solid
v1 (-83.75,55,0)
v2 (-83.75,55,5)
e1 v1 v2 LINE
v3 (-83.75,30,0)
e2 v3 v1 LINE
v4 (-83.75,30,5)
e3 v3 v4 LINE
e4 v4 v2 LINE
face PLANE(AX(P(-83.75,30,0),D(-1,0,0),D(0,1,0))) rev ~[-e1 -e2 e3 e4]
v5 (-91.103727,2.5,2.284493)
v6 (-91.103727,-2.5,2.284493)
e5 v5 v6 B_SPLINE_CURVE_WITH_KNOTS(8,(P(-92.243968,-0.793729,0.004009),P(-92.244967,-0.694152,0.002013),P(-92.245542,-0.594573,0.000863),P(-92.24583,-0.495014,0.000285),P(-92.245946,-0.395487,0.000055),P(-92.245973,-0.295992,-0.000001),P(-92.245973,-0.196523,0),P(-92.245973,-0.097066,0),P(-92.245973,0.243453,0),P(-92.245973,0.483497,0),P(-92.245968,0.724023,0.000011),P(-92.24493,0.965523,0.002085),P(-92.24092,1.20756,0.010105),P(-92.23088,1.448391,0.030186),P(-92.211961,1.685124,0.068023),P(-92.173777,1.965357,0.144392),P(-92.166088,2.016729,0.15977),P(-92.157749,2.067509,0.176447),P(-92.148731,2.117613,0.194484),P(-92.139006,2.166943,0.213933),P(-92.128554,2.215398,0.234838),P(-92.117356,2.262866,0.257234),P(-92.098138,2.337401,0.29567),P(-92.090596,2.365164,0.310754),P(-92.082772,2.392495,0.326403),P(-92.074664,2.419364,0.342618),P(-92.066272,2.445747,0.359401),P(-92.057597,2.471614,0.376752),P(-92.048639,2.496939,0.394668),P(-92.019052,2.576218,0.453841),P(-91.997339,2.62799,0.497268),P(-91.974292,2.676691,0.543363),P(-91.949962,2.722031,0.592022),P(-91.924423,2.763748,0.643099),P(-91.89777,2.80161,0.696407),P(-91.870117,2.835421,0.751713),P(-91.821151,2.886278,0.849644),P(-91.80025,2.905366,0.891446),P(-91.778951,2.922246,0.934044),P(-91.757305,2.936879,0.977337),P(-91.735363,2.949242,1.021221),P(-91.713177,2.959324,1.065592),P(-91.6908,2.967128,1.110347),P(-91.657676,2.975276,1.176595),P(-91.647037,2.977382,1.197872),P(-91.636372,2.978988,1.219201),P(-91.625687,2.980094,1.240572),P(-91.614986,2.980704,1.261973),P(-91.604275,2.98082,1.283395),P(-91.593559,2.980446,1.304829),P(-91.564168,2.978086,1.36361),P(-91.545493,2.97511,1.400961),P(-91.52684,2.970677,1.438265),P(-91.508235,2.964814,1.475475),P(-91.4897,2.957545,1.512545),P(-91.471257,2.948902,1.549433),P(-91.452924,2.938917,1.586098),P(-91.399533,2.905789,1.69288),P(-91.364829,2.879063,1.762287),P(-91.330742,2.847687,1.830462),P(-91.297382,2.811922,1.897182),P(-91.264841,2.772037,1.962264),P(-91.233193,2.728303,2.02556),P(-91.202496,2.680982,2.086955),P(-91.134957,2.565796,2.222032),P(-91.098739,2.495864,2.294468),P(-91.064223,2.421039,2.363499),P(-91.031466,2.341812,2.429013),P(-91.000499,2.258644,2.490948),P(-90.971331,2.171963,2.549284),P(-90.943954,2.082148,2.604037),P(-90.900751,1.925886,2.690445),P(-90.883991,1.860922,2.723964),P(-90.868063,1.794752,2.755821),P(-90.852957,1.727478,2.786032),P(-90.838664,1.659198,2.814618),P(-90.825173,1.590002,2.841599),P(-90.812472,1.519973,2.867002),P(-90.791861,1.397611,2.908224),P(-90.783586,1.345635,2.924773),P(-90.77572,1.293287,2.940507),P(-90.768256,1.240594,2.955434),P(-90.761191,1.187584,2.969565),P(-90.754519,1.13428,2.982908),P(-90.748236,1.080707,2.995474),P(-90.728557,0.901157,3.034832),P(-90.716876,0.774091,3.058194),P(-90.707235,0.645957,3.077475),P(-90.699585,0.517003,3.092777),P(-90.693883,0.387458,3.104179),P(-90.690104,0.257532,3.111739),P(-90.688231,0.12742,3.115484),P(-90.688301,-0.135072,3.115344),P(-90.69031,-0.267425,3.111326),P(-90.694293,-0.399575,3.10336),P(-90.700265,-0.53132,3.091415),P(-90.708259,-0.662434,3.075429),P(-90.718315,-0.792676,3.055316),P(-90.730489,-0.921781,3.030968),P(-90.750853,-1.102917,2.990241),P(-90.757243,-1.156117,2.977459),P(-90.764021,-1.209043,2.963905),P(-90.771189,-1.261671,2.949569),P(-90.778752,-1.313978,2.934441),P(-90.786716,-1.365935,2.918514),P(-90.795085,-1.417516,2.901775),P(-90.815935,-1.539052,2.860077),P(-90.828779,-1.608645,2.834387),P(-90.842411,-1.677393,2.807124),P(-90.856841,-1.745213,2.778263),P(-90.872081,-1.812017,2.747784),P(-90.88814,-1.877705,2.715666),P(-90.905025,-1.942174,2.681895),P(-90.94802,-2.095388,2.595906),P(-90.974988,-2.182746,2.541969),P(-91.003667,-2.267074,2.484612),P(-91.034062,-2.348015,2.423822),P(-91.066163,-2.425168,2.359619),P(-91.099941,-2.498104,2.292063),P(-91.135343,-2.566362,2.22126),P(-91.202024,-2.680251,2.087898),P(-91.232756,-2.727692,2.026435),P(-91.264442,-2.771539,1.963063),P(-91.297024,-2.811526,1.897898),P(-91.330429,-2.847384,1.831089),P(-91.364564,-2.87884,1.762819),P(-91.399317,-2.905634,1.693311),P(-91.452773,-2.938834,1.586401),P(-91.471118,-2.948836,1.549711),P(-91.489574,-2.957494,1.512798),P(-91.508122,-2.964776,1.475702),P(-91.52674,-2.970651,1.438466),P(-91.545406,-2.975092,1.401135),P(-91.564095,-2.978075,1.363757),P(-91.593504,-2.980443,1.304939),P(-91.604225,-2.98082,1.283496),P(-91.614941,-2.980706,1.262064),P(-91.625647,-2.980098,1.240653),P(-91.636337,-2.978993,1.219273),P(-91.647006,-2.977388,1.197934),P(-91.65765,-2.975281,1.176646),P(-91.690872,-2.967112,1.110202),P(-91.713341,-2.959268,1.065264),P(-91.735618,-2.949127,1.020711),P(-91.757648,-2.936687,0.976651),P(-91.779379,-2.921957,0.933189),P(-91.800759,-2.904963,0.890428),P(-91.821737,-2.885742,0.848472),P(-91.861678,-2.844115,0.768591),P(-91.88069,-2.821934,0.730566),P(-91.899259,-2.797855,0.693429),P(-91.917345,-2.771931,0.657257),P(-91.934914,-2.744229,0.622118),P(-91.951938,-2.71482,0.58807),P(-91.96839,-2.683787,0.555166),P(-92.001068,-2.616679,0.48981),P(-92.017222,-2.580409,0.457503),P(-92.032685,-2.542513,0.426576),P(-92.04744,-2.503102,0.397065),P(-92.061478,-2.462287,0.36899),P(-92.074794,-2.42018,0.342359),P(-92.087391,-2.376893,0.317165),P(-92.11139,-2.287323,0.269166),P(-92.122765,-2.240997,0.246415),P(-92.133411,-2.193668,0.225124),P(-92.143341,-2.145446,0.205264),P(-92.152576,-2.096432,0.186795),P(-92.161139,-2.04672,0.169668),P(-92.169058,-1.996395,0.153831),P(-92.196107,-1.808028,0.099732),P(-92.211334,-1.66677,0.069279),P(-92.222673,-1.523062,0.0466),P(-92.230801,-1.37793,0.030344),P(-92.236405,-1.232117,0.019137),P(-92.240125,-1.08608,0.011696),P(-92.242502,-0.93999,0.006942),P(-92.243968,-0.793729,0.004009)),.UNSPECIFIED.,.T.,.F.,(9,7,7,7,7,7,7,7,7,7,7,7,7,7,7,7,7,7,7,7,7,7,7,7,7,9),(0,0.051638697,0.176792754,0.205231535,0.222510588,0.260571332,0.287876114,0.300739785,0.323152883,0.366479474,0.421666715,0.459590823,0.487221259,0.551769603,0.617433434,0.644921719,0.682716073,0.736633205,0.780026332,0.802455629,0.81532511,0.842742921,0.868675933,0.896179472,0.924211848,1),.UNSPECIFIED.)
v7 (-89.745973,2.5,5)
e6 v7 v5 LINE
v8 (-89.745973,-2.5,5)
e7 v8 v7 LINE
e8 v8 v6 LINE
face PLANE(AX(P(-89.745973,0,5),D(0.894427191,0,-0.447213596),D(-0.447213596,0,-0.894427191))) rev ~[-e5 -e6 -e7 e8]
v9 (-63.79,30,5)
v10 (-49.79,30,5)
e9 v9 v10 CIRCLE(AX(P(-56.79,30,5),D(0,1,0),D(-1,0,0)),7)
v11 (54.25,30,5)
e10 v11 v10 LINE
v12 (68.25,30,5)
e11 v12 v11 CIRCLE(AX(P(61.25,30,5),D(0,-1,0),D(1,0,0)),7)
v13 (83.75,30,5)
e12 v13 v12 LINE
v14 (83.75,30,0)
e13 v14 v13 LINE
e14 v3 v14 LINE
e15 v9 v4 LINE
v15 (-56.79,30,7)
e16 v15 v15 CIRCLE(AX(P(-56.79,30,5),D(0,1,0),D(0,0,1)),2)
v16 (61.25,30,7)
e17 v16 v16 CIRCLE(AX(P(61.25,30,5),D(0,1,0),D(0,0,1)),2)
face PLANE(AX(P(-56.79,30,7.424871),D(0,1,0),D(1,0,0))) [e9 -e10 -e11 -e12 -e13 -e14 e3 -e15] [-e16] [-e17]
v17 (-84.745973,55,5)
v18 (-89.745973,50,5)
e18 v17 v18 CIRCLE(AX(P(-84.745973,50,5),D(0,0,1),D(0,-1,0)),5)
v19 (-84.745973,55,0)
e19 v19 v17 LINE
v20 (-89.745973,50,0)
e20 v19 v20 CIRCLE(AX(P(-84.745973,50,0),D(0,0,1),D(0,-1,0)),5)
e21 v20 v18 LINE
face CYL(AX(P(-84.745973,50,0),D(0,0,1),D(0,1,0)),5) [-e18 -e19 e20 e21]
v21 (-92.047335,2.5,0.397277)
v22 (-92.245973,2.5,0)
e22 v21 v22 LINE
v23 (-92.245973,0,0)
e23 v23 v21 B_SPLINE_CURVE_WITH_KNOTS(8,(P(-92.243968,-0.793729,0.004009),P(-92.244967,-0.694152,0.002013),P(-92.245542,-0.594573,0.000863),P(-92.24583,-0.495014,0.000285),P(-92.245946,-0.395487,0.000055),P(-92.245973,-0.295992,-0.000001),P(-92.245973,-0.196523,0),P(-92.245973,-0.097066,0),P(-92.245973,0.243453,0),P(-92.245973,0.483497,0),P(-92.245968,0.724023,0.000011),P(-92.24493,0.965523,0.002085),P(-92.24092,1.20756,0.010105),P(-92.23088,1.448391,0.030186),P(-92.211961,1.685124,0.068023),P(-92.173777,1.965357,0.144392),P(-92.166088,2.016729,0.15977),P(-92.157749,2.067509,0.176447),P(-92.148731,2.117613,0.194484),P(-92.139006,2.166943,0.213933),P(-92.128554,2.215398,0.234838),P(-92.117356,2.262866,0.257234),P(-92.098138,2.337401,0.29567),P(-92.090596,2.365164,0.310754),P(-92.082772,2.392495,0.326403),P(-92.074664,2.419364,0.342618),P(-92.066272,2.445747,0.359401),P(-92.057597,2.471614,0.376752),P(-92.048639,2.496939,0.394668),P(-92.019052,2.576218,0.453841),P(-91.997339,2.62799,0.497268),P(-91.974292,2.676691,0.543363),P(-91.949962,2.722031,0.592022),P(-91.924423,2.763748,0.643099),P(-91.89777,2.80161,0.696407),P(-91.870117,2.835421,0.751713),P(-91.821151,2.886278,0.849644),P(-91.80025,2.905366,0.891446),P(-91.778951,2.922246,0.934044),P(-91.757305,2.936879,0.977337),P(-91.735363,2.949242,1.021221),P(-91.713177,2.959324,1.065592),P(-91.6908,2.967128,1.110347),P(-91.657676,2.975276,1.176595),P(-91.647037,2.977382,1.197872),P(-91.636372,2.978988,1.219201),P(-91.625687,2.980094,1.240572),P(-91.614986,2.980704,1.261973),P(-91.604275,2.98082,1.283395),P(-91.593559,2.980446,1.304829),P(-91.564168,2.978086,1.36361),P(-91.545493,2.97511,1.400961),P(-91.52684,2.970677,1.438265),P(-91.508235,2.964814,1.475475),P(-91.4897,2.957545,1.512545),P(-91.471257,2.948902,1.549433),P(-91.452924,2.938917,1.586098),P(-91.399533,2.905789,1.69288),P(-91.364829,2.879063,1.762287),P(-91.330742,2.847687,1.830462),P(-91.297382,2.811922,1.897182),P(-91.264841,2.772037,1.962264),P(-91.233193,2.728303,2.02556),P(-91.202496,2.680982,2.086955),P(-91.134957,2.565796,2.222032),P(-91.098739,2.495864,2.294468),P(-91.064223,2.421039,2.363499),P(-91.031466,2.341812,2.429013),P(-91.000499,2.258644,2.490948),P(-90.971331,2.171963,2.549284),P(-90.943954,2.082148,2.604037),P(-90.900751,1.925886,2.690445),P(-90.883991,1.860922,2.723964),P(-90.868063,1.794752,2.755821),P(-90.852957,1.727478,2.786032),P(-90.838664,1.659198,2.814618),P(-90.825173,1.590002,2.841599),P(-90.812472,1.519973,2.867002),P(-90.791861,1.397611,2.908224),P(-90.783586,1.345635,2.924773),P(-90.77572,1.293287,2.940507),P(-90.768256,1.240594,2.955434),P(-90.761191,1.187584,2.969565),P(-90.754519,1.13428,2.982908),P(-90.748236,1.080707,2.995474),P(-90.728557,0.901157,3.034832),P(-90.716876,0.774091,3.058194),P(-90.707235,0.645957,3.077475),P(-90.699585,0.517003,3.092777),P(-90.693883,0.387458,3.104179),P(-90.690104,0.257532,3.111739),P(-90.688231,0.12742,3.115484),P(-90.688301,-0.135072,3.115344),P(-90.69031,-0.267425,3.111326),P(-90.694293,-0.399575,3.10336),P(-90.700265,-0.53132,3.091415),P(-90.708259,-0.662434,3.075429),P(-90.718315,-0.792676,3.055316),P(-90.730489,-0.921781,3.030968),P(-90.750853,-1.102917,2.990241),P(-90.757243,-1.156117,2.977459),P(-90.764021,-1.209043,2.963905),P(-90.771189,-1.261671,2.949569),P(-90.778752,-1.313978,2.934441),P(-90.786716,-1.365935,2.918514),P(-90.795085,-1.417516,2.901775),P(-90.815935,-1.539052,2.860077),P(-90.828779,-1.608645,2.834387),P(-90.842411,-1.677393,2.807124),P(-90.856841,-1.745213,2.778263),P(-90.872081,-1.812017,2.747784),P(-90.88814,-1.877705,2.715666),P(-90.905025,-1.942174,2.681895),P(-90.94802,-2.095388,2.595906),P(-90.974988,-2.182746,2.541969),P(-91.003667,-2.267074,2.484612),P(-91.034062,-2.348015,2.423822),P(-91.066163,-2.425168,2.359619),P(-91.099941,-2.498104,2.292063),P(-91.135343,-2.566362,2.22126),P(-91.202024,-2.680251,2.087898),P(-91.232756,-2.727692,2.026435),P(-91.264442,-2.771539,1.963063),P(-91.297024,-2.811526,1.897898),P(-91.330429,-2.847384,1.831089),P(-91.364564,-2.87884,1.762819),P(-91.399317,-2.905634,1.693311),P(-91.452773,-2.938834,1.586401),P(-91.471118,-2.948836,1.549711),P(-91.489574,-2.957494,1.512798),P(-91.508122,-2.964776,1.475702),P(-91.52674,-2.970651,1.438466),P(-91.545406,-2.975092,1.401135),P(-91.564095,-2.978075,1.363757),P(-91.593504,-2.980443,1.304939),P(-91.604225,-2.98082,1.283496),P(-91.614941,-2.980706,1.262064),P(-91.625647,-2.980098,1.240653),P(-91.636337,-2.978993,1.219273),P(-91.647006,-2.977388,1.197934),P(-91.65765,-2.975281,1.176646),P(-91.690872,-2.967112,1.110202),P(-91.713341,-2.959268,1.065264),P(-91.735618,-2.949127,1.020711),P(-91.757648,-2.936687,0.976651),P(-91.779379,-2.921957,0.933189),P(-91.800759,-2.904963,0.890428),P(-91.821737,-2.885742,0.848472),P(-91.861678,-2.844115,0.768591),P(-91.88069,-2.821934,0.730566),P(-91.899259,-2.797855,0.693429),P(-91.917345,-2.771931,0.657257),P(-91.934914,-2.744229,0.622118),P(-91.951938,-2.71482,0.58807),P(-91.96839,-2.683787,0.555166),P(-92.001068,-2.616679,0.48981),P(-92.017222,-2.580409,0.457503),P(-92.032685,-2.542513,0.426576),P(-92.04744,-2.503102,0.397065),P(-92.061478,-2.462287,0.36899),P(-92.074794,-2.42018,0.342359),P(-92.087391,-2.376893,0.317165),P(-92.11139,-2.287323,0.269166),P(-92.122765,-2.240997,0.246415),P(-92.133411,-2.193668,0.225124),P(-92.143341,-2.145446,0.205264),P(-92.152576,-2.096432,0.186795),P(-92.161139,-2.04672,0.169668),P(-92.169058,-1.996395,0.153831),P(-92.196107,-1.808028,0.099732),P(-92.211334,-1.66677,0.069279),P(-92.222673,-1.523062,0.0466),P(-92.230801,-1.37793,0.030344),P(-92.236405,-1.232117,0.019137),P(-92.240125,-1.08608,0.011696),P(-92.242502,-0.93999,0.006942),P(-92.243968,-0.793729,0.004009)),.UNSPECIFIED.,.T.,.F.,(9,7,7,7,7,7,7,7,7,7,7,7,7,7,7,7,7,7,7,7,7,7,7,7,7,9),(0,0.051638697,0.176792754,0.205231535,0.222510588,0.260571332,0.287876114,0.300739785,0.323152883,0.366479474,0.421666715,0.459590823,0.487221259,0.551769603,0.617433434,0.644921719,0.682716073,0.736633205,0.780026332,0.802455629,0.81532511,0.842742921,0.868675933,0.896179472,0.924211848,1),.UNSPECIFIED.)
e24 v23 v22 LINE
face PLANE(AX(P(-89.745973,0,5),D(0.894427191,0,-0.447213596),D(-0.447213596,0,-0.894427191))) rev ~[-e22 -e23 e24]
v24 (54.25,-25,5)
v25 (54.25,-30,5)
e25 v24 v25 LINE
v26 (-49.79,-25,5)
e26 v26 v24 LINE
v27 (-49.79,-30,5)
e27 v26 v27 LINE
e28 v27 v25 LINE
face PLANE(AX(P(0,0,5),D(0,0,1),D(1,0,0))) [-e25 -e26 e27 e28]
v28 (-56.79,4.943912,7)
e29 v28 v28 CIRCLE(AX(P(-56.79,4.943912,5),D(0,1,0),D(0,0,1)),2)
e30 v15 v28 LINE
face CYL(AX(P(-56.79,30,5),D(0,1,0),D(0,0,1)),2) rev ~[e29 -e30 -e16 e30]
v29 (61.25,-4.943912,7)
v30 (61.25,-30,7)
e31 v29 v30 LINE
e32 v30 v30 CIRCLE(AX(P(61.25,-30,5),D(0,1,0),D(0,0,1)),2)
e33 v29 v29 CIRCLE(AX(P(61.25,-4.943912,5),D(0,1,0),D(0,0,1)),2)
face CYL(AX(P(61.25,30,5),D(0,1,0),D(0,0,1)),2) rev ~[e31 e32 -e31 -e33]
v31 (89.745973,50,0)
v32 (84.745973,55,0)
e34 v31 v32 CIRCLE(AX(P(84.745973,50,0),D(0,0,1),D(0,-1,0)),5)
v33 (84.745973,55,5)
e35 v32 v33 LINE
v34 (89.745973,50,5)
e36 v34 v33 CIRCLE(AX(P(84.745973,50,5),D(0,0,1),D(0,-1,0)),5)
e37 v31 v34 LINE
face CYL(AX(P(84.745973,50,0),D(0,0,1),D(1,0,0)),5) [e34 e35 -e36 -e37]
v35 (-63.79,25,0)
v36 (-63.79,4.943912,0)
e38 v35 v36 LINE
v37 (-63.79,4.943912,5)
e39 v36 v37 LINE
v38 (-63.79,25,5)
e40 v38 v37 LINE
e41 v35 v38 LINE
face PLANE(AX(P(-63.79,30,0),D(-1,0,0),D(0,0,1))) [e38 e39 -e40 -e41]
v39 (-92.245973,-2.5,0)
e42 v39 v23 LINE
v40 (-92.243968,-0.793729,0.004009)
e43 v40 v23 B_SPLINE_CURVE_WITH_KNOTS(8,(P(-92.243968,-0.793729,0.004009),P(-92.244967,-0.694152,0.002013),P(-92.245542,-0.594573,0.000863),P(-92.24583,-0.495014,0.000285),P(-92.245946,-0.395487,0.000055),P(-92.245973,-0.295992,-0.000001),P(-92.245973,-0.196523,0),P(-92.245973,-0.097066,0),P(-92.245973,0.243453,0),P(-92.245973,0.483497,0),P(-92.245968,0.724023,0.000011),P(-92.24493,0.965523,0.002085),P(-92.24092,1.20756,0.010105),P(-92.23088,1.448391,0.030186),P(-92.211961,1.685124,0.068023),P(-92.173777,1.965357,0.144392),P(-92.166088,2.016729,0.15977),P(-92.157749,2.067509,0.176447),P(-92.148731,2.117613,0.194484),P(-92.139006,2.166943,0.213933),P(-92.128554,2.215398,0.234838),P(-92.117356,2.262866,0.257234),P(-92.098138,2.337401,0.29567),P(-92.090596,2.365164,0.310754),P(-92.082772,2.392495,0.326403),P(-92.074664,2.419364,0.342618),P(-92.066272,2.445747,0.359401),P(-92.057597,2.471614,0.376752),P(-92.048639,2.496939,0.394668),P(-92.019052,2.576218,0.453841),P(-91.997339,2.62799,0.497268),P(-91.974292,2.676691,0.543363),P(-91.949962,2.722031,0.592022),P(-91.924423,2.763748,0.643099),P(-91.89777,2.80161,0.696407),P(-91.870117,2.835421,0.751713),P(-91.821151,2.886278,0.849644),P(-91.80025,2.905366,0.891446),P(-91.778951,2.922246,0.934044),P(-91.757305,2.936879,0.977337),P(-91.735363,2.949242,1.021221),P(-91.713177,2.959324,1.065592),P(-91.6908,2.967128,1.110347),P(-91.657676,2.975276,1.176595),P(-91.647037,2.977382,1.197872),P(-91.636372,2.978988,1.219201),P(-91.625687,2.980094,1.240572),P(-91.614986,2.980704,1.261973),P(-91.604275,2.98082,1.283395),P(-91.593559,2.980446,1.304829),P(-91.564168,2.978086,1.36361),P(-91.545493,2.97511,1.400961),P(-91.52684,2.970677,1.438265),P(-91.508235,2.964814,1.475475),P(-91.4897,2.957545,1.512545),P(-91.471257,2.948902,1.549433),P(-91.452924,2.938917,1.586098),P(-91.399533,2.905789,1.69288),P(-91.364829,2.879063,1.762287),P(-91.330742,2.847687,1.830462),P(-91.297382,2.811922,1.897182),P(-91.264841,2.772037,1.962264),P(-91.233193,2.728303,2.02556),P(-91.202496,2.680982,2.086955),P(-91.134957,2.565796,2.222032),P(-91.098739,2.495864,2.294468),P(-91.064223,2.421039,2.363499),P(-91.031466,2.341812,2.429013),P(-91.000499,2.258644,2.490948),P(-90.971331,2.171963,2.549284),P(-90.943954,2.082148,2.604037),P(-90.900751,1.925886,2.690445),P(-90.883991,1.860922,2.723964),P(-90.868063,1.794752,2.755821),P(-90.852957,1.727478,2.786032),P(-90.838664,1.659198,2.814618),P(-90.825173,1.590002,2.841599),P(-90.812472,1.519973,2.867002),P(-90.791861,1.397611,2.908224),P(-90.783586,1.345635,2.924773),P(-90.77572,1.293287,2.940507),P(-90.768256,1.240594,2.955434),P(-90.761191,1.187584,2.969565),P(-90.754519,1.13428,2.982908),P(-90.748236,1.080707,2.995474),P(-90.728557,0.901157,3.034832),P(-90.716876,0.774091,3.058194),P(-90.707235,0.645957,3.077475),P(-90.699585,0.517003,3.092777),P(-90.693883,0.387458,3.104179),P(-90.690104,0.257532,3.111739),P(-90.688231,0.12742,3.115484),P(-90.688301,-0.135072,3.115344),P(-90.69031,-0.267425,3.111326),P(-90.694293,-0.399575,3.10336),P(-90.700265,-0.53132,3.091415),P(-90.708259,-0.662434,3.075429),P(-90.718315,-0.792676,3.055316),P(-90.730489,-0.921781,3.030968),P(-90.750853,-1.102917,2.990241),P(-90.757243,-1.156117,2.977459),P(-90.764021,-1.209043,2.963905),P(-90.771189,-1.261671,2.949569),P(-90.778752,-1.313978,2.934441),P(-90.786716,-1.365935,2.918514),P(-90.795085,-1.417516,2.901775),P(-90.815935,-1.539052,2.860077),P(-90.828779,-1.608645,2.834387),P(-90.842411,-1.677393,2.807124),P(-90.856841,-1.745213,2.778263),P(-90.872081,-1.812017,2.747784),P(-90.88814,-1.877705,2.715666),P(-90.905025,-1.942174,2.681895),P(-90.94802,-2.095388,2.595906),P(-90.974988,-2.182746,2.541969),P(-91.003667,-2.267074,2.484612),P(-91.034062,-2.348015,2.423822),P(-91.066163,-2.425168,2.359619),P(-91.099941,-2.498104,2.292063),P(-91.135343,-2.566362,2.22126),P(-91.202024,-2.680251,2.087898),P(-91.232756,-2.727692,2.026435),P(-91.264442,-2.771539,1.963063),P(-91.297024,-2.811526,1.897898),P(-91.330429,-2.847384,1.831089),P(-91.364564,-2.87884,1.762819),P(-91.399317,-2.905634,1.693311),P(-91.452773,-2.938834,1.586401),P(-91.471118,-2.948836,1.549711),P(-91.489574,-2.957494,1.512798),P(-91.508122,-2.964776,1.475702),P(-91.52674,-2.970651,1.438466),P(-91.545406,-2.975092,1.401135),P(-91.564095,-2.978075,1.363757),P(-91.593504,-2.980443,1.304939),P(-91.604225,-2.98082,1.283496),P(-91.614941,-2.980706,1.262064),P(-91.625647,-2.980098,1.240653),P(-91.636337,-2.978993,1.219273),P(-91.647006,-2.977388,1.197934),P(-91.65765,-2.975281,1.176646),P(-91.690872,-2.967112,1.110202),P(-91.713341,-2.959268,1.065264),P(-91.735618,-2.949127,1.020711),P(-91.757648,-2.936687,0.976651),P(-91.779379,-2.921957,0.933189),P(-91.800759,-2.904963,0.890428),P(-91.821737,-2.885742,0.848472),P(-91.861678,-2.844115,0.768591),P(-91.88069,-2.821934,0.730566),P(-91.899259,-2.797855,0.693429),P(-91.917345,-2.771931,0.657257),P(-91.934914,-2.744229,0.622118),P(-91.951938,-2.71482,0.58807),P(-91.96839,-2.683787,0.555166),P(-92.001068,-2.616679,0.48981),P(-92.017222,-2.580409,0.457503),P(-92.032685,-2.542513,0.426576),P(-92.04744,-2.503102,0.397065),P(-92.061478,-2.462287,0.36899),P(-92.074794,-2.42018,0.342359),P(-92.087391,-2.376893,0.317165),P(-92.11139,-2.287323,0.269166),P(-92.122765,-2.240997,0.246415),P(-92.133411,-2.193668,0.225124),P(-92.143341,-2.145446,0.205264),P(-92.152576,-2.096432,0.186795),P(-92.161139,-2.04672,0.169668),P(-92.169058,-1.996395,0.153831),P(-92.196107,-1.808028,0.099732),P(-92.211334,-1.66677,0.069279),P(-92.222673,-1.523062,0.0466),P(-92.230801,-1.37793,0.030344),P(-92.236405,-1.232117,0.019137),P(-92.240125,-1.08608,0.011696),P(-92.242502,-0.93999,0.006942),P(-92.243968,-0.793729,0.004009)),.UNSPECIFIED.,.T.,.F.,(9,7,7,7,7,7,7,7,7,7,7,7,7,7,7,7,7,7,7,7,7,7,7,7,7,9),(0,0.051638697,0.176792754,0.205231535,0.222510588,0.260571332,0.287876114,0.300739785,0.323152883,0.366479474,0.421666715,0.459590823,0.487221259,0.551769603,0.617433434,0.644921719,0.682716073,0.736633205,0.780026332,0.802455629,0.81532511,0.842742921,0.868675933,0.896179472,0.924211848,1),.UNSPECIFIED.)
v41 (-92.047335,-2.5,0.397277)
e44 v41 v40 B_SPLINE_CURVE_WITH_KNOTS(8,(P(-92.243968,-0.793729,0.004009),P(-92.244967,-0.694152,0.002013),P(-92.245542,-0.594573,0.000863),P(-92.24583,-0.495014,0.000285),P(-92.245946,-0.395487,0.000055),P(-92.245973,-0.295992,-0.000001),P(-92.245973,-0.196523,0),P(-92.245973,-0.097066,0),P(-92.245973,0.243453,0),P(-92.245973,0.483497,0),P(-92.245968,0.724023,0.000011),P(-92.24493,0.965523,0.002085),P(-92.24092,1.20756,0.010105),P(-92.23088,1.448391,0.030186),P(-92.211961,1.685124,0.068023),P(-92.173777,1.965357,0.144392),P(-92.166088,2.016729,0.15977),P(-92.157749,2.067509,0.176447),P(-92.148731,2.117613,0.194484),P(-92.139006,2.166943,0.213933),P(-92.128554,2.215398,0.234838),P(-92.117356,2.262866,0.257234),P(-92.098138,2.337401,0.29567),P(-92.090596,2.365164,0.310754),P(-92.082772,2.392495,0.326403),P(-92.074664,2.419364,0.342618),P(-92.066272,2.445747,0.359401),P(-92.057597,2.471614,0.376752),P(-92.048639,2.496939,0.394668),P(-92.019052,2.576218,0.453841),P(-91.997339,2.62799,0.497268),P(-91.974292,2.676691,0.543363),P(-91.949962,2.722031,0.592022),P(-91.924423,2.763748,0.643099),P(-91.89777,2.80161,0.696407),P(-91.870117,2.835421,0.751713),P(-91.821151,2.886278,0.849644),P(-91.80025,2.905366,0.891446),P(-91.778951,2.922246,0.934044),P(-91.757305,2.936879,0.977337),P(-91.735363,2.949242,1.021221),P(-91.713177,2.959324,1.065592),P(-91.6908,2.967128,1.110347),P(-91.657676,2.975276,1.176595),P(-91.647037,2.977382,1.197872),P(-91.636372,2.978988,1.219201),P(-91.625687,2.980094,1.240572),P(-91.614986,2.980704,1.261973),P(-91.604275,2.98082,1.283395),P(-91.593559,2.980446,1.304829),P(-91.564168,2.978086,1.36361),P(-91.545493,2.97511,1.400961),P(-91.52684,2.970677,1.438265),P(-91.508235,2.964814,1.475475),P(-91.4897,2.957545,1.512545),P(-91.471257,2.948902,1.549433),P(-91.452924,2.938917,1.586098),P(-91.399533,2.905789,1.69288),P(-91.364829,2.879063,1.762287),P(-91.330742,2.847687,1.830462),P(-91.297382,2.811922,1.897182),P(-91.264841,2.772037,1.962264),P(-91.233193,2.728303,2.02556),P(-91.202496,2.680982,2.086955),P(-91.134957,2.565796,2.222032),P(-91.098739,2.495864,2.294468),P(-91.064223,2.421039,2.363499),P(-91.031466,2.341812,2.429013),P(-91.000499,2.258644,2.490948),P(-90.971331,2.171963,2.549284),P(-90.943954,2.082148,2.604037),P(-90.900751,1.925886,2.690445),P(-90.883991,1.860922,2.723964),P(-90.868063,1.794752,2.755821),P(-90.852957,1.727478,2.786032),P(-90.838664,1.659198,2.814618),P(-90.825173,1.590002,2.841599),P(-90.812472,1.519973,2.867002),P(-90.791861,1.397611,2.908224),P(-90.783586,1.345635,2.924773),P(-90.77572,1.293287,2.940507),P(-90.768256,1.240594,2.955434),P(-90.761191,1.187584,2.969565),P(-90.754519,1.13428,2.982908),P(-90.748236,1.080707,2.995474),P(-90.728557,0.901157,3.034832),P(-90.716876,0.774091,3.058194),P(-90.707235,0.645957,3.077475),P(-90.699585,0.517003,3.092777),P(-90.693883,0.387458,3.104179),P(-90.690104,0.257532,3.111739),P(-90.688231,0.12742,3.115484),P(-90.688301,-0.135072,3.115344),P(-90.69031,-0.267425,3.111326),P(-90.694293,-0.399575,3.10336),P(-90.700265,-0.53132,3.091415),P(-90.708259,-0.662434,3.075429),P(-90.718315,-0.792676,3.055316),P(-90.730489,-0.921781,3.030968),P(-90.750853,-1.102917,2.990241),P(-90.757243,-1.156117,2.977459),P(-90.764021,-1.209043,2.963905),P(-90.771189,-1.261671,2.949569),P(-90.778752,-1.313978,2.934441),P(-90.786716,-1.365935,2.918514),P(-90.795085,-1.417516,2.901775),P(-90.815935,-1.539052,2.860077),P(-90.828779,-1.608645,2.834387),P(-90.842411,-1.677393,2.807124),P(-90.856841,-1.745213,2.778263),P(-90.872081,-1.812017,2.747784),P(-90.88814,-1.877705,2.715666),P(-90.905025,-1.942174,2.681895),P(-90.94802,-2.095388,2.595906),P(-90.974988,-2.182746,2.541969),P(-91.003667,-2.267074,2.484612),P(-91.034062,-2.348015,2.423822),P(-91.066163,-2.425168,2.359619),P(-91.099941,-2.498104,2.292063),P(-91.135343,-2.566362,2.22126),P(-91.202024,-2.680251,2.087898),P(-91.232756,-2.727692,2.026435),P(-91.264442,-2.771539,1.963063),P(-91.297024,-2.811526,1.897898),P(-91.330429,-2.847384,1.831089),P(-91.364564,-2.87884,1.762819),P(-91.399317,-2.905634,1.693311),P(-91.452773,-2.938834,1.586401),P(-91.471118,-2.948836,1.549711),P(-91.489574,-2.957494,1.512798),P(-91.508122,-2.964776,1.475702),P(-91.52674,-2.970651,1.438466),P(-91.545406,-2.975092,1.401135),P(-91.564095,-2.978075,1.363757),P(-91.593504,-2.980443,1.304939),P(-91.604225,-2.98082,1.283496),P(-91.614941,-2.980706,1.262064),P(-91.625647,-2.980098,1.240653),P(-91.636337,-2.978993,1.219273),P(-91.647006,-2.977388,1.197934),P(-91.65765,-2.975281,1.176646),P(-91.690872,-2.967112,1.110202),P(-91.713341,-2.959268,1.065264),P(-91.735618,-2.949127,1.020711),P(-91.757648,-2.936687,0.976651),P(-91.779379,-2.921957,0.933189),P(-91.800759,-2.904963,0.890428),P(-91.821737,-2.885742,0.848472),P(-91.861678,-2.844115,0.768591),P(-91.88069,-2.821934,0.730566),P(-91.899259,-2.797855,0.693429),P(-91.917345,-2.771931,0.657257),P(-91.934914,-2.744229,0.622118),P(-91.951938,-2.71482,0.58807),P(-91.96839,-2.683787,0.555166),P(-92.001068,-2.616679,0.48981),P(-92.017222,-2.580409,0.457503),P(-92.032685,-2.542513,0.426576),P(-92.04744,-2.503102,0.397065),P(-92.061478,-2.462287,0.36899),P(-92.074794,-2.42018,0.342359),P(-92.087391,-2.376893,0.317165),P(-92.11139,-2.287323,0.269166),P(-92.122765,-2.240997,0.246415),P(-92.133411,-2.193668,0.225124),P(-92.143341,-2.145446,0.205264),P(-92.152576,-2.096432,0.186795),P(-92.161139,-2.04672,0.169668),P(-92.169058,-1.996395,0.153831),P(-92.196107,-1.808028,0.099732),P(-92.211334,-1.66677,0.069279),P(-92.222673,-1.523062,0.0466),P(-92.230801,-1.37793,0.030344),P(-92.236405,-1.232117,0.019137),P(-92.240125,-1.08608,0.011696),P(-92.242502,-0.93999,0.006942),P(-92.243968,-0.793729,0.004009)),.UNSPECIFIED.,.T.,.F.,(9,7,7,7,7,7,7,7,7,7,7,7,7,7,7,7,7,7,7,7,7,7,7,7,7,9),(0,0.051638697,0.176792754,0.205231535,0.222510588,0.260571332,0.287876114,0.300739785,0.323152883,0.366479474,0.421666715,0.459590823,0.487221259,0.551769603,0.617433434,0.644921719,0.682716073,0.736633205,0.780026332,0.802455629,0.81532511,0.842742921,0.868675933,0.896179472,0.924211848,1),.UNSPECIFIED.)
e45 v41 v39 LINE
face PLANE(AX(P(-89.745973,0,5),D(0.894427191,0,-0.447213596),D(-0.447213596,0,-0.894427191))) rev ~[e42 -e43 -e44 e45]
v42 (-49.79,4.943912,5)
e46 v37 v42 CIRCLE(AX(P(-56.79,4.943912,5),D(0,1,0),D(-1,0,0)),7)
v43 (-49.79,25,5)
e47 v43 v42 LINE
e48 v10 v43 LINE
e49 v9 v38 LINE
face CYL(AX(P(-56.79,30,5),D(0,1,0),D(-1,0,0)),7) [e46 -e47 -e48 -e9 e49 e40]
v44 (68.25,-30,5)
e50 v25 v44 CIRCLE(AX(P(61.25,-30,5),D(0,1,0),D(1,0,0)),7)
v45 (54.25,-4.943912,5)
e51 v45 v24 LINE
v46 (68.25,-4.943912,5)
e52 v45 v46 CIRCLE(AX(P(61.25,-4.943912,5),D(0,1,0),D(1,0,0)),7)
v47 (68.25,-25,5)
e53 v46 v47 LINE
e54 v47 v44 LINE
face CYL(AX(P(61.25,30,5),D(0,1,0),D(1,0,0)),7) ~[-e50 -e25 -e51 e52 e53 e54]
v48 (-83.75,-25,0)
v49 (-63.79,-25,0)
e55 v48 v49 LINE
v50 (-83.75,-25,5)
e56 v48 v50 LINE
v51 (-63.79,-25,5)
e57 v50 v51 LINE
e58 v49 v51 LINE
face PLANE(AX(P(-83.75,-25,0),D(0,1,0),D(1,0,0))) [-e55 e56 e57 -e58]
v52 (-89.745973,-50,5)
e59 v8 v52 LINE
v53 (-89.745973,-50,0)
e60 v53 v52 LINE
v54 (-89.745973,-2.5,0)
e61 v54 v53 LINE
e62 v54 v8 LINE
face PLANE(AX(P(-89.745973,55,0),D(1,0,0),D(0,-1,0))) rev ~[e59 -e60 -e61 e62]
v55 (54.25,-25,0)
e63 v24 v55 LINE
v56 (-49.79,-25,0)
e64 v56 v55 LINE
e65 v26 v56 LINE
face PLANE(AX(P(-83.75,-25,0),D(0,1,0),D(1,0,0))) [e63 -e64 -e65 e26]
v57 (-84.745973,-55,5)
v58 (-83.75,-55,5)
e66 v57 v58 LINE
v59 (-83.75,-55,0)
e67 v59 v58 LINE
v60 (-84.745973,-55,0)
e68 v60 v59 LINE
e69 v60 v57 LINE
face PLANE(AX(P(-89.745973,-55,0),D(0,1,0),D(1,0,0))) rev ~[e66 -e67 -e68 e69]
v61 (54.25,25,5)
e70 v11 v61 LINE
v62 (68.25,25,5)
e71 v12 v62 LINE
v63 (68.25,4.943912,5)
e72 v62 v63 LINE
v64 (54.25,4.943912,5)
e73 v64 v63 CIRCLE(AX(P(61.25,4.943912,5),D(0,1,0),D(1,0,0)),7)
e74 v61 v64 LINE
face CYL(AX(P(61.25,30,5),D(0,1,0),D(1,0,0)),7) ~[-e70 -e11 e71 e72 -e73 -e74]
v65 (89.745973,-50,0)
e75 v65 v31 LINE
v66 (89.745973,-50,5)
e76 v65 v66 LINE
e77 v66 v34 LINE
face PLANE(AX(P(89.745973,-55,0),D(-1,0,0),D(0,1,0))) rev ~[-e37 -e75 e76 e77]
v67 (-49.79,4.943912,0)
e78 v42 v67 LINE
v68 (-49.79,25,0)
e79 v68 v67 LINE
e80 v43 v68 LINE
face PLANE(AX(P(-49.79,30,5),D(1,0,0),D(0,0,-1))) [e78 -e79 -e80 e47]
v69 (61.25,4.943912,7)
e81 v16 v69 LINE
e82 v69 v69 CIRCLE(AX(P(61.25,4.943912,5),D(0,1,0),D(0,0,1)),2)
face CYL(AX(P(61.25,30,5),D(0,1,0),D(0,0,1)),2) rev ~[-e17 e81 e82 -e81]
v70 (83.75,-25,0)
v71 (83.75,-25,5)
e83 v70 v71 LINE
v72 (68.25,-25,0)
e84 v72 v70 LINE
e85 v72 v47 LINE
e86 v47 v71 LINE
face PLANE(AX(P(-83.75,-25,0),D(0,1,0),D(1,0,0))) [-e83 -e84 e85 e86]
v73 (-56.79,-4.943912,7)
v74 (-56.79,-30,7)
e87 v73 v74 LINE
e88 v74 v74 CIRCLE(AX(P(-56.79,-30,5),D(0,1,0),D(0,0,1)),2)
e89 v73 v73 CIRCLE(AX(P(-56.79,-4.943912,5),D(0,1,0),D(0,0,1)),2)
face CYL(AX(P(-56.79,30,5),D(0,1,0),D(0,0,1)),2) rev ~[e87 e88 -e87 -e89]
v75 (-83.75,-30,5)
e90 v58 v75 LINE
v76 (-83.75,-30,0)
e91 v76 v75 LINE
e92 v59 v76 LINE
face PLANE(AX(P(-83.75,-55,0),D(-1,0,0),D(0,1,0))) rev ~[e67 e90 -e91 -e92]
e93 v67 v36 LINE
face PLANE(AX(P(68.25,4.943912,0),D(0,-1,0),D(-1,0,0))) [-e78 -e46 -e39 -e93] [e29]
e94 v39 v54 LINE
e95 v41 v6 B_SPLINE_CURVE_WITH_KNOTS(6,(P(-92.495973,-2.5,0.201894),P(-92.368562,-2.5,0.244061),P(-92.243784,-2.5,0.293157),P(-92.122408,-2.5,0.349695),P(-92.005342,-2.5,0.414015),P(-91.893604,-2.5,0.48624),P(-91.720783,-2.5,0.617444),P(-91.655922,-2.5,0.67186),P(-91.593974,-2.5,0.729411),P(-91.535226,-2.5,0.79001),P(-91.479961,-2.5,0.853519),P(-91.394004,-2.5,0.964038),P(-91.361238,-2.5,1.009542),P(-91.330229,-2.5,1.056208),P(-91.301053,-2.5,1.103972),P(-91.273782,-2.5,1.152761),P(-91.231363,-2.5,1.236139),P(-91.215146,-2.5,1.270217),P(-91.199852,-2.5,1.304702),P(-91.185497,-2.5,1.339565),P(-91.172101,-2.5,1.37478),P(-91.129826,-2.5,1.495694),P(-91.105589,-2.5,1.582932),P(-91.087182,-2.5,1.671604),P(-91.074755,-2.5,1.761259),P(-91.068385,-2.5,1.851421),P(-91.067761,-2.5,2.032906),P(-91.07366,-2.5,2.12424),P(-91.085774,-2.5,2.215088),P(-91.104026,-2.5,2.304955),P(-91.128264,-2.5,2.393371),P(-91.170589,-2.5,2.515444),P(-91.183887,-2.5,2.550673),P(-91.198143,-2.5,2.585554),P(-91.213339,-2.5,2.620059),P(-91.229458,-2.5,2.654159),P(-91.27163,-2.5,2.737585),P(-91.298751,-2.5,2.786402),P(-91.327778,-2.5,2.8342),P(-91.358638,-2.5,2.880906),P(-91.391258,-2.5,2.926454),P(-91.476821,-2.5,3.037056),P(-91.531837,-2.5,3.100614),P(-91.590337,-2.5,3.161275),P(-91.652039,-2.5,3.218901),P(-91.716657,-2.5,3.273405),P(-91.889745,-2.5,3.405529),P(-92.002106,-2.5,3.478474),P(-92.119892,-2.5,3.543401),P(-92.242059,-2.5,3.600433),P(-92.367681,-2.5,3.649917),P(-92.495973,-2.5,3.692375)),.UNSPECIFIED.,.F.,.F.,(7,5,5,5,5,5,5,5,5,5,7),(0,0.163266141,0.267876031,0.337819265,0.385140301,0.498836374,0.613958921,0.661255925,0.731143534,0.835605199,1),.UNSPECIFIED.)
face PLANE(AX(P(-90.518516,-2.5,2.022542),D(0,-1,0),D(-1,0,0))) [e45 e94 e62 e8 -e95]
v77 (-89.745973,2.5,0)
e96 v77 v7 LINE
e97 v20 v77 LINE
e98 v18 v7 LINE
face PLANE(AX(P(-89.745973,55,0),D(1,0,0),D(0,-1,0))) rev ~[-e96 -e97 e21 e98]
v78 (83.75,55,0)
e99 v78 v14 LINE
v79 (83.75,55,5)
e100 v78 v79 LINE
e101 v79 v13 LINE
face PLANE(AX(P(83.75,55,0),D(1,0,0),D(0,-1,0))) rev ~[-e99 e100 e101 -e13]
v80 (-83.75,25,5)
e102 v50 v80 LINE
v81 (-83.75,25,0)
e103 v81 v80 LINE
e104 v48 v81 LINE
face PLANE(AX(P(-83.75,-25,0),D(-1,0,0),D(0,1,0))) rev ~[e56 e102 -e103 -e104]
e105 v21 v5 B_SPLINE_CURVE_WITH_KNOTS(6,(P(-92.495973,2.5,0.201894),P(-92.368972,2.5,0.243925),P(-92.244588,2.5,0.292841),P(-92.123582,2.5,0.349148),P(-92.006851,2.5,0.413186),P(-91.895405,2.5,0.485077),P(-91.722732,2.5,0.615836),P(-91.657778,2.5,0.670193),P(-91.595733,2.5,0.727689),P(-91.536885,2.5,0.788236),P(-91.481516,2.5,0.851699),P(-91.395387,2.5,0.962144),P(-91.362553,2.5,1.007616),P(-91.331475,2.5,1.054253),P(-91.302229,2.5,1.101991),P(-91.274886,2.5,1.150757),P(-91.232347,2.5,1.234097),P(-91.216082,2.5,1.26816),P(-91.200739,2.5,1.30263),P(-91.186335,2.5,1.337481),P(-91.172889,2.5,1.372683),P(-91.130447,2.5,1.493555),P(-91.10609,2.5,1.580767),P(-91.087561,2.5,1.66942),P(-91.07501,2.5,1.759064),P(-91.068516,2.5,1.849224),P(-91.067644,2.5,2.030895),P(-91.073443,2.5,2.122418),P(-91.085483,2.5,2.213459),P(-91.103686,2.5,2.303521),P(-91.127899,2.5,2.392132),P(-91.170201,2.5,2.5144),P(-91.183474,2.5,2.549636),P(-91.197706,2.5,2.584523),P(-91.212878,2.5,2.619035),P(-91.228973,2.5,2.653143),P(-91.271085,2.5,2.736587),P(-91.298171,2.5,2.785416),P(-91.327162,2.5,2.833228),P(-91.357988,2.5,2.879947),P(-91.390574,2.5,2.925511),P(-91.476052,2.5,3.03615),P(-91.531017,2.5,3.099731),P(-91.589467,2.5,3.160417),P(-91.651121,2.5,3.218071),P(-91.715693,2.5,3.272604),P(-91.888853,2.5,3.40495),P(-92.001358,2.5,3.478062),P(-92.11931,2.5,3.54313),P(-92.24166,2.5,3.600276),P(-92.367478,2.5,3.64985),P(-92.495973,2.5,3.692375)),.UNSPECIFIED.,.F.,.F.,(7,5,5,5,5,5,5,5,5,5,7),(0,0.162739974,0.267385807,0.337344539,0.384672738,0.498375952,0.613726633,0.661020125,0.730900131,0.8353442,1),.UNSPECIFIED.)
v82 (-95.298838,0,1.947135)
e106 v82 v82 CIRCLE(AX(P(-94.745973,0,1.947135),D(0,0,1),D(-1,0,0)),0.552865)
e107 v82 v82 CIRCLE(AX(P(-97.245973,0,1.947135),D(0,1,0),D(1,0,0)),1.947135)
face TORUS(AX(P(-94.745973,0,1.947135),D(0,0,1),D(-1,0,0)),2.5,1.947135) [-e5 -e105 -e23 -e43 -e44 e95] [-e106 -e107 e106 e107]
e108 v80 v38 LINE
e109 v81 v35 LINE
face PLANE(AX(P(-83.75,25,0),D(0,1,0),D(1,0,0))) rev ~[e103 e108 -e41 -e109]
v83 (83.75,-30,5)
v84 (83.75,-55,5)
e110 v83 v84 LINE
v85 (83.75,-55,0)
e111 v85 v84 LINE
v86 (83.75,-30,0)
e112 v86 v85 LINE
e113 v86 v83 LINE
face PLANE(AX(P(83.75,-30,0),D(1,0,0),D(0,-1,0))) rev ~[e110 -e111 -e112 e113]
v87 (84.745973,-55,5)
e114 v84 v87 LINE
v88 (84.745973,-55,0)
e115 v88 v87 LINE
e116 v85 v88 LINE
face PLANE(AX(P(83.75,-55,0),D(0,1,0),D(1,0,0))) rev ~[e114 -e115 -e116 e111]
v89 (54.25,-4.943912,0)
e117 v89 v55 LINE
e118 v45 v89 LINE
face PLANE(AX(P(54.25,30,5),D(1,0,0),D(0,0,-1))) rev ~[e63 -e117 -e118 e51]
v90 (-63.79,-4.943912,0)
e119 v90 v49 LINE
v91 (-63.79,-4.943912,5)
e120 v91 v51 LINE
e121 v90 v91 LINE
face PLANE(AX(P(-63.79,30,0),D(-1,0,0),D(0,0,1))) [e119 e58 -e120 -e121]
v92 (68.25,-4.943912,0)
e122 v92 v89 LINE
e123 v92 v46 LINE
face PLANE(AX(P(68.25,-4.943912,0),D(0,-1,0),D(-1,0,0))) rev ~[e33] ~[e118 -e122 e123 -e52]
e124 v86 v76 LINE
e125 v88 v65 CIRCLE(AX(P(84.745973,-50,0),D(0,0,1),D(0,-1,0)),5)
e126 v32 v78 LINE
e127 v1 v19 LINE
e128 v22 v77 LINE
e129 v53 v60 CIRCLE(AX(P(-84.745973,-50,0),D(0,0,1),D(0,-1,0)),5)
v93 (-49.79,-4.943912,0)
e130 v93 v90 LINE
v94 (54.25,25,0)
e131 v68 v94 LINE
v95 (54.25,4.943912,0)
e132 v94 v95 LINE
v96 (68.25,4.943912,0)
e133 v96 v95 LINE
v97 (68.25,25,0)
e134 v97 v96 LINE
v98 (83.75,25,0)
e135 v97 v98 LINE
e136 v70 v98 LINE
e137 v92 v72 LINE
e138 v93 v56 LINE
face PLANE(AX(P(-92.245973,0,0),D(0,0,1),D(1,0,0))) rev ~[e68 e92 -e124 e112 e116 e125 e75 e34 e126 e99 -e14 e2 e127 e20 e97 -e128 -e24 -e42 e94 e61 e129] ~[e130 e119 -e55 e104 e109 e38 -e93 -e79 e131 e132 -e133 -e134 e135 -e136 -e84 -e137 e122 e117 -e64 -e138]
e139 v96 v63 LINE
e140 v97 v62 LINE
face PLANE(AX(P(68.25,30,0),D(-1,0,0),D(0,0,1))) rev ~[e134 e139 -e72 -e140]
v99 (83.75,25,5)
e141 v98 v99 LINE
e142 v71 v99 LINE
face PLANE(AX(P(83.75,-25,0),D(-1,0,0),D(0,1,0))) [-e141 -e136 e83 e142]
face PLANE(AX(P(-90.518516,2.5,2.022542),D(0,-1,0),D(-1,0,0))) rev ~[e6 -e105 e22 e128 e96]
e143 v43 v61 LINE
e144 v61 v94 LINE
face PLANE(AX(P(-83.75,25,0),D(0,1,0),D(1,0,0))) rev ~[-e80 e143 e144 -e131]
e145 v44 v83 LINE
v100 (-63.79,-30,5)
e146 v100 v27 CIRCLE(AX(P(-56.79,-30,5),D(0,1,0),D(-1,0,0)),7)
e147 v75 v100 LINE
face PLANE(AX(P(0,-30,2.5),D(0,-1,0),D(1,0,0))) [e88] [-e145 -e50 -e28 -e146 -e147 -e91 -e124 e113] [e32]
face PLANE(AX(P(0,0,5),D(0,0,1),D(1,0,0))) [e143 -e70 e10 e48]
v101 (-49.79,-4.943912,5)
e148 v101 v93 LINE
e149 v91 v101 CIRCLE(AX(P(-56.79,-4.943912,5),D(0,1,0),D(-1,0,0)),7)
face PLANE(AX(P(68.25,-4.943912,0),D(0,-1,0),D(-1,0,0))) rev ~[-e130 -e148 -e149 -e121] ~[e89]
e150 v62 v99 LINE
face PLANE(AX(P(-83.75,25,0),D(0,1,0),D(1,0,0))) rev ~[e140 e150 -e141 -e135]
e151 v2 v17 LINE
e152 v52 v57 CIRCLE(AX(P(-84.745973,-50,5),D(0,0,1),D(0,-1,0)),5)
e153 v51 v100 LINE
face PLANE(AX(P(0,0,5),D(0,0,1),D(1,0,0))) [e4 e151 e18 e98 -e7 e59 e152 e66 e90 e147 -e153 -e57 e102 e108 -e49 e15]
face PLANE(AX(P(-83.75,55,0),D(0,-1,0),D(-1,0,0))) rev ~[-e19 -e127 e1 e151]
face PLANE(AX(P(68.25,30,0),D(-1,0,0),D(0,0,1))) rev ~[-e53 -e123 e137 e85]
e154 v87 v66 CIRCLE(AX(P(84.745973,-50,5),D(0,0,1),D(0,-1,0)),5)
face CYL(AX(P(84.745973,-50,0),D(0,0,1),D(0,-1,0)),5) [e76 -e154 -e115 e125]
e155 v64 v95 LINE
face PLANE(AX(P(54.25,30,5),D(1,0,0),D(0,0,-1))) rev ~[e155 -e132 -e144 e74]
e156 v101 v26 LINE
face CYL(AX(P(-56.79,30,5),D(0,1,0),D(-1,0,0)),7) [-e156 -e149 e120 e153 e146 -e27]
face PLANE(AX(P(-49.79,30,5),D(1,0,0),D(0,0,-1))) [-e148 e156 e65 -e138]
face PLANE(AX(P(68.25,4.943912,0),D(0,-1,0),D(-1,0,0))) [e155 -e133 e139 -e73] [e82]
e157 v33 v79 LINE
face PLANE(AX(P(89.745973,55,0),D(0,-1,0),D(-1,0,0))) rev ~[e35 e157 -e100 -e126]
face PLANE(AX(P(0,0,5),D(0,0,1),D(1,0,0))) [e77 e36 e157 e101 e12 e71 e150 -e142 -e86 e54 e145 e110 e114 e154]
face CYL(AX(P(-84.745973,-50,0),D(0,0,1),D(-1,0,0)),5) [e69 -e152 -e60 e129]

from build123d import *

# Parameters (mm, degrees)
SKETCH1_W           = 167.5
SKETCH1_H           = 50
BOSS_EXTRUDE1_DEPTH = 5
BOSS_EXTRUDE2_REACH = 125.711
SKETCH3_R           = 2
CUT_EXTRUDE1_DEPTH  = 125.190739079
SKETCH6_R           = 1.947134786
BOSS_EXTRUDE7_DEPTH = 2.5
BOSS_EXTRUDE9_REACH = 133.18
SKETCH10_R          = 2
CUT_EXTRUDE3_DEPTH  = 132.180305898
FILLET2_R           = 5
SKETCH11_W          = 132.04
SKETCH11_H          = 9.88782449
CUT_EXTRUDE5_DEPTH  = 36


with BuildPart() as part:
    # Sketch1 → Boss-Extrude1 (new body)
    with BuildSketch(Plane.XY):
        Polygon((-83.75, 30), (-83.75, 55), (-89.745973018, 55), (-89.745973018, -55), (-83.75, -55), (-83.75, -30), (83.75, -30), (83.75, -55), (89.745973018, -55), (89.745973018, 55), (83.75, 55), (83.75, 30), align=None)
        Rectangle(SKETCH1_W, SKETCH1_H, mode=Mode.SUBTRACT)
    extrude(amount=BOSS_EXTRUDE1_DEPTH)

    # Boss-Extrude2: up to this face of the body (flat: up to its plane)
    boss_extrude2_end = Plane(part.part.faces().sort_by_distance((0, -30, 2.5))[0])
    # Sketch2 → Boss-Extrude2 (add, up to the picked face)
    with BuildSketch(Plane(origin=(0, 30, 0), x_dir=(1, 0, 0), z_dir=(0, 1, 0)), mode=Mode.PRIVATE) as boss_extrude2_sk1:
        with BuildLine():
            Line((-56.79, -5), (-63.79, -5))
            ThreePointArc((-63.79, -5), (-56.79, -12), (-49.79, -5))
            Line((-49.79, -5), (-56.79, -5))
        make_face()
    boss_extrude2_tool1 = split(extrude(boss_extrude2_sk1.sketch, amount=-BOSS_EXTRUDE2_REACH, mode=Mode.PRIVATE), bisect_by=boss_extrude2_end, keep=Keep.BOTH, mode=Mode.PRIVATE)
    # Sketch2 → Boss-Extrude2 (add, up to the picked face)
    with BuildSketch(Plane(origin=(0, 30, 0), x_dir=(1, 0, 0), z_dir=(0, 1, 0)), mode=Mode.PRIVATE) as boss_extrude2_sk2:
        Polygon((-63.79, 0), (-63.79, -5), (-56.79, -5), (-49.79, -5), (-49.79, 0), align=None)
    boss_extrude2_tool2 = split(extrude(boss_extrude2_sk2.sketch, amount=-BOSS_EXTRUDE2_REACH, mode=Mode.PRIVATE), bisect_by=boss_extrude2_end, keep=Keep.BOTH, mode=Mode.PRIVATE)
    add(boss_extrude2_tool1.solids().sort_by(Axis((-56.79, 30, 7.970892), (0, -1, 0)))[0])
    add(boss_extrude2_tool2.solids().sort_by(Axis((-56.79, 30, 2.5), (0, -1, 0)))[0])

    # Sketch3 → Cut-Extrude1 (cut, through all)
    with BuildSketch(Plane(origin=(0, 30, 0), x_dir=(1, 0, 0), z_dir=(0, 1, 0))):
        with Locations(Location((-56.79, -5, 0), (0, 0, 270))):
            Circle(SKETCH3_R)
    extrude(amount=-CUT_EXTRUDE1_DEPTH, mode=Mode.SUBTRACT)



with BuildPart() as body_2:
    # Sketch6 → Revolve2 (revolve)
    with BuildSketch(Plane(origin=(0, 0, 0), x_dir=(1, 0, 0), z_dir=(0, 1, 0))):
        with Locations((-97.245973018, -1.947134786)):
            Circle(SKETCH6_R)
    revolve(axis=Axis((-94.745973018, 0, 0), (0, 0, 1)))


with BuildPart() as part_1:
    add(part.part)

    add(body_2.part)  # Boss-Extrude7 merges body 2
    # Sketch9 → Boss-Extrude7 (add, symmetric)
    with BuildSketch(Plane(origin=(0, 0, 0), x_dir=(1, 0, 0), z_dir=(0, 1, 0))):
        Polygon((-92.245973018, 0), (-89.745973018, 0), (-89.745973018, -5), align=None)
    extrude(amount=BOSS_EXTRUDE7_DEPTH, both=True)

    # Boss-Extrude9: up to this face of the body (flat: up to its plane)
    boss_extrude9_end = Plane(part_1.part.faces().sort_by_distance((-4.055234189, -30, 2.93205693))[0])
    # Sketch4 → Boss-Extrude9 (add, up to the picked face)
    with BuildSketch(Plane(origin=(0, 30, 0), x_dir=(1, 0, 0), z_dir=(0, 1, 0)), mode=Mode.PRIVATE) as boss_extrude9_sk1:
        with BuildLine():
            Line((68.25, 0), (68.25, -5))
            ThreePointArc((68.25, -5), (61.25, -12), (54.25, -5))
            Line((54.25, -5), (54.25, 0))
            Line((54.25, 0), (68.25, 0))
        make_face()
    boss_extrude9_tool1 = split(extrude(boss_extrude9_sk1.sketch, amount=-BOSS_EXTRUDE9_REACH, mode=Mode.PRIVATE), bisect_by=boss_extrude9_end, keep=Keep.BOTH, mode=Mode.PRIVATE)
    add(boss_extrude9_tool1.solids().sort_by(Axis((61.25, 30, 5.365156), (0, -1, 0)))[0])

    # Sketch10 → Cut-Extrude3 (cut, through all)
    with BuildSketch(Plane(origin=(0, 30, 0), x_dir=(1, 0, 0), z_dir=(0, 1, 0))):
        with Locations(Location((61.25, -5, 0), (0, 0, 270))):
            Circle(SKETCH10_R)
    extrude(amount=-CUT_EXTRUDE3_DEPTH, mode=Mode.SUBTRACT)

    # Fillet2
    fillet2_edges = [part_1.edges().sort_by_distance(p)[0] for p in [
        (89.745973018, -55, 2.5),
        (89.745973018, 55, 2.5),
        (-89.745973018, 55, 2.5),
        (-89.745973018, -55, 2.5),
    ]]
    fillet(fillet2_edges, radius=FILLET2_R)

    # Sketch11 → Cut-Extrude5 (cut)
    with BuildSketch(Plane(origin=(0, 0, 0), x_dir=(-1, 0, 0), z_dir=(0, 0, -1))):
        with Locations((-2.23, 0)):
            Rectangle(SKETCH11_W, SKETCH11_H)
    extrude(amount=-CUT_EXTRUDE5_DEPTH, mode=Mode.SUBTRACT)


solid = part_1.part
